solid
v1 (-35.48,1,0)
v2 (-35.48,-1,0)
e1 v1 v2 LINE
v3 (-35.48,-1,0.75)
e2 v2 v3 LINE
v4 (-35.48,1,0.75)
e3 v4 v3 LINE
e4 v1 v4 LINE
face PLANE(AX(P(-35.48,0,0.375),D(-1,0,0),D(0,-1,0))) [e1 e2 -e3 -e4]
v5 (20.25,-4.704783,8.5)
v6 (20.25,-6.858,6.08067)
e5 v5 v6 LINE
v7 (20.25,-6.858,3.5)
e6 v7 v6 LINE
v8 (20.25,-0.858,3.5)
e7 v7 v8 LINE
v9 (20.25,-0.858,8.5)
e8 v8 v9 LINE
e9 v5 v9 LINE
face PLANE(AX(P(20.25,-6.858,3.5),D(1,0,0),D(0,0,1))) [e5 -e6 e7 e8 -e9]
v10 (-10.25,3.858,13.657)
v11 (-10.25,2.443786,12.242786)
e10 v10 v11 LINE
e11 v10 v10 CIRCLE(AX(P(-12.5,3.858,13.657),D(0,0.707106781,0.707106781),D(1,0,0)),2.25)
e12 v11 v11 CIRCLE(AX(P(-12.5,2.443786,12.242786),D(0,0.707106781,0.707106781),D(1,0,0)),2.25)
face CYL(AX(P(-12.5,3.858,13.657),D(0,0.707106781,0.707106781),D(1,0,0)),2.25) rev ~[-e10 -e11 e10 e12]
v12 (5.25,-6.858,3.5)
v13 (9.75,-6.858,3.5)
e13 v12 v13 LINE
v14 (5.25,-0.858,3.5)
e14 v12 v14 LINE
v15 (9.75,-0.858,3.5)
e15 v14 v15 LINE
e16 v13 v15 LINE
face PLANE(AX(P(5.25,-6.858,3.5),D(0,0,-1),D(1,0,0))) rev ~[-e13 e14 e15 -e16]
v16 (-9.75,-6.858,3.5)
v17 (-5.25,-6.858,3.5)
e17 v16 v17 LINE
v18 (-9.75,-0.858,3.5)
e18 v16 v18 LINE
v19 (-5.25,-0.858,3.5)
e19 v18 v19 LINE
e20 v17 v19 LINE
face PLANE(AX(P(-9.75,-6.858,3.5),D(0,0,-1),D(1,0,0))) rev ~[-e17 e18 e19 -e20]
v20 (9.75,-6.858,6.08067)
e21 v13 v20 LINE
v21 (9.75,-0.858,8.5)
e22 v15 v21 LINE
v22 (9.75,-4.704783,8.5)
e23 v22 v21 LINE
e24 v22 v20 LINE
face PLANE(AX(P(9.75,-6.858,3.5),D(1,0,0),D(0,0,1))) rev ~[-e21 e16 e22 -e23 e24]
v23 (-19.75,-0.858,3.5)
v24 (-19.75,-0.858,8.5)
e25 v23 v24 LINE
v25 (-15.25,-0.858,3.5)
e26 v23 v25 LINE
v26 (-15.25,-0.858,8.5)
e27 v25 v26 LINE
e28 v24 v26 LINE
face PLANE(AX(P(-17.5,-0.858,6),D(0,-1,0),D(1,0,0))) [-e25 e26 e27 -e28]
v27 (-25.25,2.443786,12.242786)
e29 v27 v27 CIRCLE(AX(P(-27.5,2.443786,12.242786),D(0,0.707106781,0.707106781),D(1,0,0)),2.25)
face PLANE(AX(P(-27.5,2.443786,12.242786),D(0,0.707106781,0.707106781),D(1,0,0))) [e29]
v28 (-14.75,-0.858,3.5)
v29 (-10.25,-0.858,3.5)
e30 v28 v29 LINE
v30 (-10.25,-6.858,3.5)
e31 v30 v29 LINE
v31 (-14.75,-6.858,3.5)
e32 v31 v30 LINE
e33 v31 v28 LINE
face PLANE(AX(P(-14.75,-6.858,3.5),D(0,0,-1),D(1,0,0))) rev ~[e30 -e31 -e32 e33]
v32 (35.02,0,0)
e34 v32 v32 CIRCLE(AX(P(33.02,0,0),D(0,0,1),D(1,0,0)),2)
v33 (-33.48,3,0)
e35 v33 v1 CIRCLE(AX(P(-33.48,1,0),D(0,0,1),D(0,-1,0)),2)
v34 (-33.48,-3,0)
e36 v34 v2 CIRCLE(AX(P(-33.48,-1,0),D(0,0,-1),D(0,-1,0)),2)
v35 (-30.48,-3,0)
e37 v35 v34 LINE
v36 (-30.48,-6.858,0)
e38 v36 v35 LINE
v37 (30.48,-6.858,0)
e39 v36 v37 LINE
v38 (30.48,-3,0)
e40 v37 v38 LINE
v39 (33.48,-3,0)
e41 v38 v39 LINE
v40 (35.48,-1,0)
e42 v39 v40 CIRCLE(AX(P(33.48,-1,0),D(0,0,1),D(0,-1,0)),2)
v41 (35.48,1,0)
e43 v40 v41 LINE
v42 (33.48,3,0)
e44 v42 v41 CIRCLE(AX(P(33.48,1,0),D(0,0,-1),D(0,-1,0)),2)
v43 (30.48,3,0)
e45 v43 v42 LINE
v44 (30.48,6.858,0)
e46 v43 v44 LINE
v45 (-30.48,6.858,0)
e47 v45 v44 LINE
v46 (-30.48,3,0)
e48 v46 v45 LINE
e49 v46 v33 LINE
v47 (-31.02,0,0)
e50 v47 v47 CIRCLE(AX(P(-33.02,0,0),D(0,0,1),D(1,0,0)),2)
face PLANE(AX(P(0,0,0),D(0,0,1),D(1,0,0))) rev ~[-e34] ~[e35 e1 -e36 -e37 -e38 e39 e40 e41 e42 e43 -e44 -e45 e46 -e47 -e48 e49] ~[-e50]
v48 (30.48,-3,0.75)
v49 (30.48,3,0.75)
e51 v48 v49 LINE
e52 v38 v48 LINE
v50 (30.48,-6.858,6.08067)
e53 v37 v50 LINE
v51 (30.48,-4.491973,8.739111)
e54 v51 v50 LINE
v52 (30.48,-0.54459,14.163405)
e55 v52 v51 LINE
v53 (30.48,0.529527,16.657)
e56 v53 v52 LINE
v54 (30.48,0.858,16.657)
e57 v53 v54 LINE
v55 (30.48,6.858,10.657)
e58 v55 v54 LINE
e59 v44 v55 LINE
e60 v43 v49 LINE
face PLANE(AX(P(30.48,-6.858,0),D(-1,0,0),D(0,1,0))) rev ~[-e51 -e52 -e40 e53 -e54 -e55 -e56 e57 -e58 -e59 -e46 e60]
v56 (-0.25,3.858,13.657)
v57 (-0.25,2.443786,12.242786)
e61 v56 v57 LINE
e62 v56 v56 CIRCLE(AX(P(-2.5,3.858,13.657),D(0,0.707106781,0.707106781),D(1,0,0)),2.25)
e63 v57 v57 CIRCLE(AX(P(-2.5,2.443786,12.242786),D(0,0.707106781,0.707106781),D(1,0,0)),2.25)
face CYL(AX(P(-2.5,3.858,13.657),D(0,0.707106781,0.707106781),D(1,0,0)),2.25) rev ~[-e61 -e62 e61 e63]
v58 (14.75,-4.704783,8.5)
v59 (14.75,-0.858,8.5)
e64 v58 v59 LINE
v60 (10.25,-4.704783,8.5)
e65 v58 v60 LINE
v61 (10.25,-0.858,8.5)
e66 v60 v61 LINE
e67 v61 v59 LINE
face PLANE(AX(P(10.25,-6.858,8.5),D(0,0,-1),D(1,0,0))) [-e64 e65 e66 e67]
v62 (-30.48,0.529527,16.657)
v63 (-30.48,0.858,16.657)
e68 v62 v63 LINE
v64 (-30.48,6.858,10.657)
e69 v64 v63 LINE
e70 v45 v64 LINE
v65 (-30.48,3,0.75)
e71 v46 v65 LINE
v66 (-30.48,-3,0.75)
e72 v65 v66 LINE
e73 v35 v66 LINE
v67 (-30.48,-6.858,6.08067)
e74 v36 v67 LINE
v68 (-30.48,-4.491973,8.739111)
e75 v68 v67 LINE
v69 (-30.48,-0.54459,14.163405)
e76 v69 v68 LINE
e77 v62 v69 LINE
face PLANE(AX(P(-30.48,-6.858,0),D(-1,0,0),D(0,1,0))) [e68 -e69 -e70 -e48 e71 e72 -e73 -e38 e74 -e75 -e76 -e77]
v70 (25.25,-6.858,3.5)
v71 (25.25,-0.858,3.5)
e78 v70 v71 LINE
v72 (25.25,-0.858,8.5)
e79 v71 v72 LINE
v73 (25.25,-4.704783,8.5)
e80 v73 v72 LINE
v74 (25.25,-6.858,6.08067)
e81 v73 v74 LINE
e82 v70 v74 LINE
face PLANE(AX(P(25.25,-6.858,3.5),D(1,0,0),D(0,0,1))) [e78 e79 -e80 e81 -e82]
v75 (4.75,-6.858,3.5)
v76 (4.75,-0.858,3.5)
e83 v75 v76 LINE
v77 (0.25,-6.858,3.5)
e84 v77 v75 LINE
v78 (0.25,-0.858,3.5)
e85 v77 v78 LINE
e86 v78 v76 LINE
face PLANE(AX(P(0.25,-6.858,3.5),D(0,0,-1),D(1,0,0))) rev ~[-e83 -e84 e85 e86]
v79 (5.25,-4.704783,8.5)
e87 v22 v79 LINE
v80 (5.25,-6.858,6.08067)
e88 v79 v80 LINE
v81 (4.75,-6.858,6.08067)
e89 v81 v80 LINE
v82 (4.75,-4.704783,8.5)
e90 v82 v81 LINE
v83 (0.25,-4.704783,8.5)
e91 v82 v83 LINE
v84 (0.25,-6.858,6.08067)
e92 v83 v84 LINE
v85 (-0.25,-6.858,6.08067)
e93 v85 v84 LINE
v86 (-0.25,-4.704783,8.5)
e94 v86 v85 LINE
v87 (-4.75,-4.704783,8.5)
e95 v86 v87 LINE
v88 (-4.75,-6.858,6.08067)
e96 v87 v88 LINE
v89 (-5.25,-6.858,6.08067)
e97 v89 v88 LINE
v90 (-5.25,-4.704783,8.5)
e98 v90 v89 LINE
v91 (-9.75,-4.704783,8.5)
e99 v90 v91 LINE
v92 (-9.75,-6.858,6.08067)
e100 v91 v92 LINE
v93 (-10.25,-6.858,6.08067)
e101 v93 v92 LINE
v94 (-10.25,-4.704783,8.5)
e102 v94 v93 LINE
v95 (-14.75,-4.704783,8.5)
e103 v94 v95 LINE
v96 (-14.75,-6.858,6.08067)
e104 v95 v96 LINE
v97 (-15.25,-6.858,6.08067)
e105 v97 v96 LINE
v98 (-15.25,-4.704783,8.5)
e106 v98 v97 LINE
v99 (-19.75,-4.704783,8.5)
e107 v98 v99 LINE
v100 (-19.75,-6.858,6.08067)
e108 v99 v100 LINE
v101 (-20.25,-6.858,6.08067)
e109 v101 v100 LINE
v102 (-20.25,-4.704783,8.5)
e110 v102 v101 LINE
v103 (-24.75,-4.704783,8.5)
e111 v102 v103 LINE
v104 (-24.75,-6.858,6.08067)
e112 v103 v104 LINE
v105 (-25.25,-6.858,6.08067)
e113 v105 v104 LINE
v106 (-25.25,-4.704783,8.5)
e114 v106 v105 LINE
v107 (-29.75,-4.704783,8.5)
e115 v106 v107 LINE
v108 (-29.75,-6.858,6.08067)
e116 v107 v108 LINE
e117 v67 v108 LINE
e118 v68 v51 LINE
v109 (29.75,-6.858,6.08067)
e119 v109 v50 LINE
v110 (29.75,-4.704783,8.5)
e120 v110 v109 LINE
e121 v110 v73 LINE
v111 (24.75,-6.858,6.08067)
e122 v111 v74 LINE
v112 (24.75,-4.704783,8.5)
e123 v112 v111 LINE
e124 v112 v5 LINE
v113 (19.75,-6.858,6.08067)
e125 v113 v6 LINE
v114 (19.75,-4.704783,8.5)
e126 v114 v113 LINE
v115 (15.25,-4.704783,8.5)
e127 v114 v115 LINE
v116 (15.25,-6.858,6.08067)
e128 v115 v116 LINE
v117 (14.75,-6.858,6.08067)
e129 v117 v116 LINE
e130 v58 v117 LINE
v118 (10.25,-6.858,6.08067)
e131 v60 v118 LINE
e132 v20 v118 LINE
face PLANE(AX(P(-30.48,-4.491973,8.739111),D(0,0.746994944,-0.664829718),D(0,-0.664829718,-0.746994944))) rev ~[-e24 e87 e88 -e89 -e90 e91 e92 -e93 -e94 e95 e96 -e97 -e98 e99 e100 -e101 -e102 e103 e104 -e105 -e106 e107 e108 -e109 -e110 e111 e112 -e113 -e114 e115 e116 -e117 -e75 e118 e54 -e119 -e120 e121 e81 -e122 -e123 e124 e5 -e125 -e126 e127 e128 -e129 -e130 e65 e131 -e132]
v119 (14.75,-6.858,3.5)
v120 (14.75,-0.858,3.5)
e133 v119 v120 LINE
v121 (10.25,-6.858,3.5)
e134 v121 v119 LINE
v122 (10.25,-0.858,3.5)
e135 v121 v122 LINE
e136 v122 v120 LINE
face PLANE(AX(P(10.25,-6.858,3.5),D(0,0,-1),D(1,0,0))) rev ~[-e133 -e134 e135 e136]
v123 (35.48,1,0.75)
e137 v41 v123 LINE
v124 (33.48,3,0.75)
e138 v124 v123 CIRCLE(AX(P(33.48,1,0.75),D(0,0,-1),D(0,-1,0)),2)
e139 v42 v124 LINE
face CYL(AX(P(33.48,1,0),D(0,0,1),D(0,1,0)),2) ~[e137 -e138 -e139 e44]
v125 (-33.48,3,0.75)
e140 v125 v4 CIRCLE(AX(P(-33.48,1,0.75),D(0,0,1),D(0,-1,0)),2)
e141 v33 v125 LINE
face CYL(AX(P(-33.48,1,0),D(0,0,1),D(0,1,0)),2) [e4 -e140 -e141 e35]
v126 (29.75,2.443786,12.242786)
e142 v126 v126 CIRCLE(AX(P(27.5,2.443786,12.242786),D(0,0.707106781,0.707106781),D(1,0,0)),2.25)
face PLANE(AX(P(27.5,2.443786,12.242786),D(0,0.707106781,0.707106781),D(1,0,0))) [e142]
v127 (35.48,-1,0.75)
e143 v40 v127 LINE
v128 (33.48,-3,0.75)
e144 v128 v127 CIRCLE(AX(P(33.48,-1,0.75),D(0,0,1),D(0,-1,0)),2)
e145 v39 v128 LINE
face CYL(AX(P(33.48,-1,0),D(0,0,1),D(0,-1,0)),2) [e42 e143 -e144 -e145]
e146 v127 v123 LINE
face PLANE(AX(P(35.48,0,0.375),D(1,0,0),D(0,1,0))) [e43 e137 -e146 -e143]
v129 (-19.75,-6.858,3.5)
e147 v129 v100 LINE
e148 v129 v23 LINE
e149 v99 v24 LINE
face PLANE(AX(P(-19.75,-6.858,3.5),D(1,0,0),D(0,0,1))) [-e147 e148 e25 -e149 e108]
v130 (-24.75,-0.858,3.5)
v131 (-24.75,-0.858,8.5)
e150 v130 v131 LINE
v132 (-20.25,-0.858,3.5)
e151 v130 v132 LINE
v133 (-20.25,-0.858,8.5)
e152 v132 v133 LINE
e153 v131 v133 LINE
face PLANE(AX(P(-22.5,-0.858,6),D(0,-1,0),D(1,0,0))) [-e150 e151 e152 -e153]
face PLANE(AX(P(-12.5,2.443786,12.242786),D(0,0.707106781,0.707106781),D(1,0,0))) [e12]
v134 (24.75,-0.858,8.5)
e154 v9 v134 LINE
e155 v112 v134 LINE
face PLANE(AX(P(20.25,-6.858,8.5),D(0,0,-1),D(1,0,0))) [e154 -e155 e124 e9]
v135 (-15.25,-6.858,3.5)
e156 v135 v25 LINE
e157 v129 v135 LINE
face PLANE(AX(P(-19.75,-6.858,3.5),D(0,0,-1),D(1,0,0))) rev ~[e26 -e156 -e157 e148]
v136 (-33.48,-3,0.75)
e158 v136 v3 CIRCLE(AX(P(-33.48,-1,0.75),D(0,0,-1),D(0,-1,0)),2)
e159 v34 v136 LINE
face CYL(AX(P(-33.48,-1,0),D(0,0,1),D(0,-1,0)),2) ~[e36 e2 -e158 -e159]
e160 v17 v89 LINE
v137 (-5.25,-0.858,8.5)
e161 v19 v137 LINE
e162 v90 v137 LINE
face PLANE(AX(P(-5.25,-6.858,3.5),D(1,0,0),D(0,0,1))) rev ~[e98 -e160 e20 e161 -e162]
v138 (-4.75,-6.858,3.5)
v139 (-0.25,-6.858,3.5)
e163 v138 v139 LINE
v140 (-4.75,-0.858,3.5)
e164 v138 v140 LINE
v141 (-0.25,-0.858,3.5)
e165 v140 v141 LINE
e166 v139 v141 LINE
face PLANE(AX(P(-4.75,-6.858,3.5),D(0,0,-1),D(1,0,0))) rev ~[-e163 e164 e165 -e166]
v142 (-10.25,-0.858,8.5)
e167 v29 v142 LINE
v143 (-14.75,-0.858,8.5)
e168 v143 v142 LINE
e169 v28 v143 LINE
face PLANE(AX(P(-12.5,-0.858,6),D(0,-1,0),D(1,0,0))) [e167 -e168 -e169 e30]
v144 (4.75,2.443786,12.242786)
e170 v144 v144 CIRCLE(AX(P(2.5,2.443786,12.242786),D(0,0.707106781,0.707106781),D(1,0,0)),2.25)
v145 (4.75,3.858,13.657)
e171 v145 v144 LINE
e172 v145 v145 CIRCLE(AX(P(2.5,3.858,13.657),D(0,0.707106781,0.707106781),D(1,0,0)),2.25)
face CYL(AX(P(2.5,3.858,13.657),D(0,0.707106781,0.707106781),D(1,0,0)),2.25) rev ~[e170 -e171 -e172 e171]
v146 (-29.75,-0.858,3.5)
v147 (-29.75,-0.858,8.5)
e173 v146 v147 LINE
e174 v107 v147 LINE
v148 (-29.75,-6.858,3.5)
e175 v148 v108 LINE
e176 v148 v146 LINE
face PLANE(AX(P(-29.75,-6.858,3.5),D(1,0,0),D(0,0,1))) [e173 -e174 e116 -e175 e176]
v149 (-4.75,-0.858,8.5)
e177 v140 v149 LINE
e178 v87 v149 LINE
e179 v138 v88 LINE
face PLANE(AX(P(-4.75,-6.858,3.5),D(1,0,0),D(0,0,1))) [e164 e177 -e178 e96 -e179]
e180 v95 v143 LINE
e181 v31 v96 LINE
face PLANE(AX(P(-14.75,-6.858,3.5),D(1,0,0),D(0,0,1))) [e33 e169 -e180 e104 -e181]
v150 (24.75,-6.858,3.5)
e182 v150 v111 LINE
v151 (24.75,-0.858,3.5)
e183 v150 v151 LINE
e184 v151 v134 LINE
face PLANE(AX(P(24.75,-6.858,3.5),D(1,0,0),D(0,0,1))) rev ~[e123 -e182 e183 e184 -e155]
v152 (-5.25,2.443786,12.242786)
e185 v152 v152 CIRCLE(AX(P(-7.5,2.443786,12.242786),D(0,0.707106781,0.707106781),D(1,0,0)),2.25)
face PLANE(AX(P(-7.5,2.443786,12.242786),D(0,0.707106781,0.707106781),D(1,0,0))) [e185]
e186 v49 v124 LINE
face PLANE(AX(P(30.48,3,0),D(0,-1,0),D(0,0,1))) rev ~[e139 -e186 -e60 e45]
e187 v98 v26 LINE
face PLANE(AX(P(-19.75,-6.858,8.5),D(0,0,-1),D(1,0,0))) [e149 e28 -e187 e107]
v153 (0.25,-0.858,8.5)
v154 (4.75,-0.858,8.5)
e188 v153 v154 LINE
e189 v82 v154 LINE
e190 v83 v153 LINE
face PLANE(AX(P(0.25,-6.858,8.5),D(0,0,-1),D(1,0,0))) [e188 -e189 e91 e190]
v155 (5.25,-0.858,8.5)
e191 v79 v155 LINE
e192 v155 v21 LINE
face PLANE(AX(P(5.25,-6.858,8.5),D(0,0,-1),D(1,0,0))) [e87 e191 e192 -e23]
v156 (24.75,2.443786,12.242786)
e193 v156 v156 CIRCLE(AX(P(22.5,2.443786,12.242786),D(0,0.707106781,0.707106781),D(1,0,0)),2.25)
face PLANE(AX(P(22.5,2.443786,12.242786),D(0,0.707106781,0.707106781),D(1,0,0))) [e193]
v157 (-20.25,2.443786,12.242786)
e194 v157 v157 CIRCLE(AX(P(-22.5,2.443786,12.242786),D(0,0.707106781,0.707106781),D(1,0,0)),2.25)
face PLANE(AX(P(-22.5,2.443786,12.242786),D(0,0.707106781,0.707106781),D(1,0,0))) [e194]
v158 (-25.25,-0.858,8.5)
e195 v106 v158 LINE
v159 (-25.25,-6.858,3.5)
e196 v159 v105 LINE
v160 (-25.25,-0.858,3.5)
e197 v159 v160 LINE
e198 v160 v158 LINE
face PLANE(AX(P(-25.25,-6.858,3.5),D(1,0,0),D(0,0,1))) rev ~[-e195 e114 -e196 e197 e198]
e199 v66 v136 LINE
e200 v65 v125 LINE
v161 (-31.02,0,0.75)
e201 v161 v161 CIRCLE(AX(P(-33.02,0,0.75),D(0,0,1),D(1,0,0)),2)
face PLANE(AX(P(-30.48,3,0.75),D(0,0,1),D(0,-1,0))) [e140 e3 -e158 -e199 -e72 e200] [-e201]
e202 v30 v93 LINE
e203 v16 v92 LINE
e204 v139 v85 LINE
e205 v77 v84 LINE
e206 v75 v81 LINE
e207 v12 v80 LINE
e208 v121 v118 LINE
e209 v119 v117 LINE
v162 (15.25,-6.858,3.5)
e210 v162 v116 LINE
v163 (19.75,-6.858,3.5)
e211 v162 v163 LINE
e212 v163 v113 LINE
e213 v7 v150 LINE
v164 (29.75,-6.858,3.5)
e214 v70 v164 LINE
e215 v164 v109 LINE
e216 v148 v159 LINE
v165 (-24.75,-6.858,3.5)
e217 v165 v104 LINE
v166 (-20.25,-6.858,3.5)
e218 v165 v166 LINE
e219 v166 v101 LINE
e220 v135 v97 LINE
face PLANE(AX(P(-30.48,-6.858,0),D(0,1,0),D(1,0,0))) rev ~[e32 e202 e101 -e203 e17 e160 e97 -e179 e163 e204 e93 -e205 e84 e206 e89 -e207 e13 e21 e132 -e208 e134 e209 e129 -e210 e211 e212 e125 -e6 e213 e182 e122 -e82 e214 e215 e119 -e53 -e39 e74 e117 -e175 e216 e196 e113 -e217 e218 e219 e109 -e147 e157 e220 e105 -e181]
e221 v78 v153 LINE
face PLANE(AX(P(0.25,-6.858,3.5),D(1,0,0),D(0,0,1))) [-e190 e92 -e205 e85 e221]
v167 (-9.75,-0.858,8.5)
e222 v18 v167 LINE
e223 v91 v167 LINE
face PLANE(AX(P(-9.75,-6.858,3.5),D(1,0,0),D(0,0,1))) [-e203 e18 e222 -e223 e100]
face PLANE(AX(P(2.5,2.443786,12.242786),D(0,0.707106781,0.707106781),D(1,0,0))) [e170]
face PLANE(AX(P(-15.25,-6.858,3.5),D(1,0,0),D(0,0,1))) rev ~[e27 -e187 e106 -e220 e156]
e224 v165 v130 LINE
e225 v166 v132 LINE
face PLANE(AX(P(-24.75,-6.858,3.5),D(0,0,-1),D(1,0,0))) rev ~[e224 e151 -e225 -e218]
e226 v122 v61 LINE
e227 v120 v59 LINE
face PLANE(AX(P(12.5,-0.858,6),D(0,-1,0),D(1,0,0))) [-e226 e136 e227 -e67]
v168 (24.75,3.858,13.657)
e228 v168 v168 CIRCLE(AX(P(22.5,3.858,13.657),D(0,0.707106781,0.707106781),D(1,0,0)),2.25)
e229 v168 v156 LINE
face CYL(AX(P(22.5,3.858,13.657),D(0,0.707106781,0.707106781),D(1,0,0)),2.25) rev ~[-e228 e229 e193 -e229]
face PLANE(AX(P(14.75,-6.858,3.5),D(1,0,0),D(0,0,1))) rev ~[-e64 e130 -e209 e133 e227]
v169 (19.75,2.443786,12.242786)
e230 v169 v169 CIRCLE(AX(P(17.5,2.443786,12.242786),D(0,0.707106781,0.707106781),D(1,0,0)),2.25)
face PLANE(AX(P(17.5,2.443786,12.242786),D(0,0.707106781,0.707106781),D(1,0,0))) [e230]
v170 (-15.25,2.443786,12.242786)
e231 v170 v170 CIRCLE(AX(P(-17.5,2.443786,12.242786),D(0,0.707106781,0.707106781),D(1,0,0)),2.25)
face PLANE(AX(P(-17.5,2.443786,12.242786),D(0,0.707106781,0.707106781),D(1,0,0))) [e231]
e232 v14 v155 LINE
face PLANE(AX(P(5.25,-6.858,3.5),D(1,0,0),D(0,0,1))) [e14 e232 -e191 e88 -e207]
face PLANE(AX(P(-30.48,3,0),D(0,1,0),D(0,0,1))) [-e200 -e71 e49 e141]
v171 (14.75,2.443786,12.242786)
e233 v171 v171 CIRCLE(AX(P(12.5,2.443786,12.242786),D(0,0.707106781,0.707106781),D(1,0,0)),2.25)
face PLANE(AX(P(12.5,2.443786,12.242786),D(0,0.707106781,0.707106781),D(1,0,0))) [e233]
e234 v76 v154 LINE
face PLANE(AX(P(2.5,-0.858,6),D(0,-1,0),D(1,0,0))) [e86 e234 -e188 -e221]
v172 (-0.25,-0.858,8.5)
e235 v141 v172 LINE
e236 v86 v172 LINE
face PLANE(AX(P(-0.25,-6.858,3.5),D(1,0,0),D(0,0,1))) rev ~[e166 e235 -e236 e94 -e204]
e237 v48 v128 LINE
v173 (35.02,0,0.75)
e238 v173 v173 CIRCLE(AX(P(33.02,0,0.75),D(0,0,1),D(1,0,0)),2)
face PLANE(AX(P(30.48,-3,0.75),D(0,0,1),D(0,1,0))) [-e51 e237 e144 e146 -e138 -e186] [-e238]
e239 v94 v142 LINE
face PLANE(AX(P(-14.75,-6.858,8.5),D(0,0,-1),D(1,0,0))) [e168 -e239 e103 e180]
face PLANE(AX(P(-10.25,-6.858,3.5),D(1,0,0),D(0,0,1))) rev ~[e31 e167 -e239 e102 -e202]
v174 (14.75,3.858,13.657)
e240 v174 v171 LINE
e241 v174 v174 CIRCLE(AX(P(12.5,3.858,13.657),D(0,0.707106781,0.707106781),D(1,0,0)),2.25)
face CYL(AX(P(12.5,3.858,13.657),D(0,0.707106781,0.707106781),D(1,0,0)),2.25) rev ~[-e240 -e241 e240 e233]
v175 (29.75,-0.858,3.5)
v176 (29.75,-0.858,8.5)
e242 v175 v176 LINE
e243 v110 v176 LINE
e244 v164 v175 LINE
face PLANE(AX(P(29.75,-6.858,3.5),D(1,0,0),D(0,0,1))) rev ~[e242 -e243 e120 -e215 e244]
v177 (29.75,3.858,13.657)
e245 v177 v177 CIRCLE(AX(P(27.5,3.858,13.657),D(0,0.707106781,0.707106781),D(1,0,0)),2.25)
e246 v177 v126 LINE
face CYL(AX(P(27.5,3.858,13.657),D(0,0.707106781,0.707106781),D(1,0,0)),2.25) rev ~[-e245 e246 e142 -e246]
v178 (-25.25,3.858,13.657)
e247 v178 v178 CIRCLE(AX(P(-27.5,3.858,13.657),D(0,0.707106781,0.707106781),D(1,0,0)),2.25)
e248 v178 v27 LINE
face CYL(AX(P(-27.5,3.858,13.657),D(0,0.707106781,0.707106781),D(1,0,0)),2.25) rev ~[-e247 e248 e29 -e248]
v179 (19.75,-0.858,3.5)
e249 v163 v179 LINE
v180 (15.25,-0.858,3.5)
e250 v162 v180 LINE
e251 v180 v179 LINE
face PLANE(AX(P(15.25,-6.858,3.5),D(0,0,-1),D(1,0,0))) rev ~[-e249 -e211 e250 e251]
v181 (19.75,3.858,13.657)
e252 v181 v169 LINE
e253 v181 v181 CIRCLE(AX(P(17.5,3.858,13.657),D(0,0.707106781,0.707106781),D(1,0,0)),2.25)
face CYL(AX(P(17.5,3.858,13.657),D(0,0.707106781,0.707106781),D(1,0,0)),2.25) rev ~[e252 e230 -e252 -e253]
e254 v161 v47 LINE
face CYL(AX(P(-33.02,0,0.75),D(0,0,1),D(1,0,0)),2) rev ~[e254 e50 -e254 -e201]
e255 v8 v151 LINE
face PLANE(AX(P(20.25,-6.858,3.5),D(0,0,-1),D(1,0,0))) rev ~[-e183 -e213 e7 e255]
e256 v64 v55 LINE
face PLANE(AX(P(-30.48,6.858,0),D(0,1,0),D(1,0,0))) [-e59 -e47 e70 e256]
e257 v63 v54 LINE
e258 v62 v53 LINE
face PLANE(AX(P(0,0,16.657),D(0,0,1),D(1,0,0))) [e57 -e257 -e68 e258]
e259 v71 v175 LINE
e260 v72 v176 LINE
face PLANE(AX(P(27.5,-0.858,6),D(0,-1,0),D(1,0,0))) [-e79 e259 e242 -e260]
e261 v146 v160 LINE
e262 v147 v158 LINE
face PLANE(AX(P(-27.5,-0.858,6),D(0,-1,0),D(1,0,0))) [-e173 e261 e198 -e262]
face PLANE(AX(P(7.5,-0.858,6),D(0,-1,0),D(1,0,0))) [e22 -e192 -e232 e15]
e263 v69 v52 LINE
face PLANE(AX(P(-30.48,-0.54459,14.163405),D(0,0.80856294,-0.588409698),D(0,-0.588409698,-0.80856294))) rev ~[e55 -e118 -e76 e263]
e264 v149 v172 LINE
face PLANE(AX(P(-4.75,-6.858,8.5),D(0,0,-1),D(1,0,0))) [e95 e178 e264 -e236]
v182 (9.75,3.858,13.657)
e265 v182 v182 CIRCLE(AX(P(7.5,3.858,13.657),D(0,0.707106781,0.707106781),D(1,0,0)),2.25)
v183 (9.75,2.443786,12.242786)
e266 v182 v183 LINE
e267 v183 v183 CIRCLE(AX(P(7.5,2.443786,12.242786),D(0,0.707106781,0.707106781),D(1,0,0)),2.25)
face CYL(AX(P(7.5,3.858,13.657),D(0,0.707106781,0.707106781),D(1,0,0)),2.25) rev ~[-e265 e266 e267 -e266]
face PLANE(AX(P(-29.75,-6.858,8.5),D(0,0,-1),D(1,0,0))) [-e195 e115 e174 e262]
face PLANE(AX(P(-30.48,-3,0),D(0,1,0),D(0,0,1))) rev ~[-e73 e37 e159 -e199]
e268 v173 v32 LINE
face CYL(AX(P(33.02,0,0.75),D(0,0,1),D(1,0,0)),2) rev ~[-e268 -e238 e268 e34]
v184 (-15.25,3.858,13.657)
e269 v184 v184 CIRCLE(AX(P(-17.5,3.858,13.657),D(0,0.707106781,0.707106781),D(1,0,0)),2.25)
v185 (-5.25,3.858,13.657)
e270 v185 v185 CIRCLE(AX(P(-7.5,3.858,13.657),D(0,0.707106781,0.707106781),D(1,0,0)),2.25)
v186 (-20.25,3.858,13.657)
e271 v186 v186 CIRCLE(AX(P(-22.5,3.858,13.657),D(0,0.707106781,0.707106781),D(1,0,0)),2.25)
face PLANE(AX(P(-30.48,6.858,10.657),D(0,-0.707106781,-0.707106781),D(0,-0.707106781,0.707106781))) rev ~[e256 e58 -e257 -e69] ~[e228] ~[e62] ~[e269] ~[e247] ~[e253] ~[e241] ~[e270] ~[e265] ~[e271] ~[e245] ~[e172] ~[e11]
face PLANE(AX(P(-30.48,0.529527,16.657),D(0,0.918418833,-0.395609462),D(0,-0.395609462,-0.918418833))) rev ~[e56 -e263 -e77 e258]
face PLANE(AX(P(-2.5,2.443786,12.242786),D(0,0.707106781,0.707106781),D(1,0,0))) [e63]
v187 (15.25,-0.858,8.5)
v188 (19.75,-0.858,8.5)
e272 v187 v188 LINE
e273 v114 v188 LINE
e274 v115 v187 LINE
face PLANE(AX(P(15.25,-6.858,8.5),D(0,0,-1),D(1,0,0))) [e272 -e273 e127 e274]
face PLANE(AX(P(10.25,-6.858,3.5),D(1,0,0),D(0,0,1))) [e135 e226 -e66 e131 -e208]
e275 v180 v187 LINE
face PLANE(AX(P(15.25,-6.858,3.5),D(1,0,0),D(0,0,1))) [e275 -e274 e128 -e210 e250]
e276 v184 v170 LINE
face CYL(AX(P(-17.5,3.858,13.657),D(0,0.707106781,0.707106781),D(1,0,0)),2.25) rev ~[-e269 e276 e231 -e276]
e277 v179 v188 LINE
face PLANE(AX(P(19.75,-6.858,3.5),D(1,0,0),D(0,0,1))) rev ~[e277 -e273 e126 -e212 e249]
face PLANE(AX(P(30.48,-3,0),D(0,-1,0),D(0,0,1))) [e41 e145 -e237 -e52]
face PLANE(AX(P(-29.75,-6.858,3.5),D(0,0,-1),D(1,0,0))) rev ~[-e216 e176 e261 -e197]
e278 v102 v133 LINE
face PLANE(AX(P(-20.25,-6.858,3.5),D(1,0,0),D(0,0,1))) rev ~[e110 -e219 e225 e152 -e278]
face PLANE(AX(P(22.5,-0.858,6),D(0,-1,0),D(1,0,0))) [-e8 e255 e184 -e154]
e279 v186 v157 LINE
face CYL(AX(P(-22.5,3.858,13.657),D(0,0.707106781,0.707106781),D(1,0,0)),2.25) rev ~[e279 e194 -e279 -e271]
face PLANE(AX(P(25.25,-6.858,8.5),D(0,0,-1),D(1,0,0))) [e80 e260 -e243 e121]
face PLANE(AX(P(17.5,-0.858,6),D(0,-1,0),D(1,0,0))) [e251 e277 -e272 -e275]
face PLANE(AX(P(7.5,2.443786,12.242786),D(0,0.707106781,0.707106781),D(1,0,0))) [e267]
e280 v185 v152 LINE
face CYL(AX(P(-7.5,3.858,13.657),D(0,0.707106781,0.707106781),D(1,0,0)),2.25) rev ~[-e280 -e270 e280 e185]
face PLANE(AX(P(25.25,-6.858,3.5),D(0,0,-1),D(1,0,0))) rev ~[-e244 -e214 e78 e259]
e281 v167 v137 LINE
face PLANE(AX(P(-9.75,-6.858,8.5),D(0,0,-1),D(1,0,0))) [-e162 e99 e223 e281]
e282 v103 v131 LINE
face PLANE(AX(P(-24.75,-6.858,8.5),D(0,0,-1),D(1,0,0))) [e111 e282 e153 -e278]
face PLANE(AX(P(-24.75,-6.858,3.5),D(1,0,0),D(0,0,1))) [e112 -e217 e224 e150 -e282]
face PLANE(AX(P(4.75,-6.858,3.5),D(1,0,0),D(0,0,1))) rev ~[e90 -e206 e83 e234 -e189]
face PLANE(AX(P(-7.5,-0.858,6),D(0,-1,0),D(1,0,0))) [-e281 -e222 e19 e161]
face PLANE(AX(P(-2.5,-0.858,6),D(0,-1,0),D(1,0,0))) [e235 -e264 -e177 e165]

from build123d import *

# Parameters (mm, degrees)
F0_W      = 60.96
F0_H      = 13.716
F1_DEPTH  = 16.657
F3_DEPTH  = 60.961
F5_W      = 4.5
F5_H      = 5
F4_R      = 2.25
F6_DEPTH  = 6
F7_R      = 2.25
F8_DEPTH  = 2
F9_W      = 6
F9_H      = 0.75
F10_DEPTH = 5
F11_W     = 6
F11_H     = 0.75
F12_DEPTH = 5
F13_R     = 2
F14_R     = 2
F15_DEPTH = 0.751
F16_R     = 2
F17_DEPTH = 0.751


with BuildPart() as f1:
    # F0 (on Top) → F1 (new body)
    with BuildSketch(Plane.XY):
        Rectangle(F0_W, F0_H)
    extrude(amount=F1_DEPTH)

    # F2 (on face) → F3 (cut, through all)
    with BuildSketch(Plane(origin=(-30.48, 0, 0), x_dir=(0, -1, 0), z_dir=(-1, 0, 0))):
        Polygon((-6.858, 10.657), (-0.858, 16.657), (-6.858, 16.657), align=None)
        Polygon((6.858, 16.657), (-0.5295271985, 16.657), (0.5445904681, 14.1634047031), (4.491972737, 8.7391110137), (6.858, 6.0806702822), align=None)
    extrude(amount=-F3_DEPTH, mode=Mode.SUBTRACT)

    # F5 (on face) + F4 (on face) → F6 (cut)
    with BuildSketch(Plane.XZ.offset(6.858)):
        with Locations((-27.5, 6)):
            Rectangle(F5_W, F5_H)
        with Locations((-22.5, 6)):
            Rectangle(F5_W, F5_H)
        with Locations((-17.5, 6)):
            Rectangle(F5_W, F5_H)
        with Locations((-12.5, 6)):
            Rectangle(F5_W, F5_H)
        with Locations((-7.5, 6)):
            Rectangle(F5_W, F5_H)
        with Locations((-2.5, 6)):
            Rectangle(F5_W, F5_H)
        with Locations((2.5, 6)):
            Rectangle(F5_W, F5_H)
        with Locations((7.5, 6)):
            Rectangle(F5_W, F5_H)
        with Locations((12.5, 6)):
            Rectangle(F5_W, F5_H)
        with Locations((17.5, 6)):
            Rectangle(F5_W, F5_H)
        with Locations((22.5, 6)):
            Rectangle(F5_W, F5_H)
        with Locations((27.5, 6)):
            Rectangle(F5_W, F5_H)
    with BuildSketch(Plane(origin=(0, 6.858, 0), x_dir=(-1, 0, 0), z_dir=(0, 1, 0))):
        with Locations((27.5, 5.3285)):
            Circle(F4_R)
        with Locations((22.5, 5.3285)):
            Circle(F4_R)
        with Locations((17.5, 5.3285)):
            Circle(F4_R)
        with Locations((12.5, 5.3285)):
            Circle(F4_R)
        with Locations((7.5, 5.3285)):
            Circle(F4_R)
        with Locations((2.5, 5.3285)):
            Circle(F4_R)
        with Locations((-2.5, 5.3285)):
            Circle(F4_R)
        with Locations((-7.5, 5.3285)):
            Circle(F4_R)
        with Locations((-12.5, 5.3285)):
            Circle(F4_R)
        with Locations((-17.5, 5.3285)):
            Circle(F4_R)
        with Locations((-22.5, 5.3285)):
            Circle(F4_R)
        with Locations((-27.5, 5.3285)):
            Circle(F4_R)
    extrude(amount=-F6_DEPTH, dir=(0, -1, 0), mode=Mode.SUBTRACT)

    # F7 (on face) → F8 (cut)
    with BuildSketch(Plane(origin=(0, 8.7575, 8.7575), x_dir=(1, 0, 0), z_dir=(0, 0.7071067812, 0.7071067812))):
        with Locations((-27.5, -6.9289393488)):
            Circle(F7_R)
        with Locations((-22.5, -6.9289393488)):
            Circle(F7_R)
        with Locations((-17.5, -6.9289393488)):
            Circle(F7_R)
        with Locations((-12.5, -6.9289393488)):
            Circle(F7_R)
        with Locations((-7.5, -6.9289393488)):
            Circle(F7_R)
        with Locations((-2.5, -6.9289393488)):
            Circle(F7_R)
        with Locations((2.5, -6.9289393488)):
            Circle(F7_R)
        with Locations((7.5, -6.9289393488)):
            Circle(F7_R)
        with Locations((12.5, -6.9289393488)):
            Circle(F7_R)
        with Locations((17.5, -6.9289393488)):
            Circle(F7_R)
        with Locations((22.5, -6.9289393488)):
            Circle(F7_R)
        with Locations((27.5, -6.9289393488)):
            Circle(F7_R)
    extrude(amount=-F8_DEPTH, mode=Mode.SUBTRACT)

    # F9 (on face) → F10 (join)
    with BuildSketch(Plane(origin=(-30.48, 0, 0), x_dir=(0, -1, 0), z_dir=(-1, 0, 0))):
        with Locations((0, 0.375)):
            Rectangle(F9_W, F9_H)
    extrude(amount=F10_DEPTH)

    # F11 (on face) → F12 (join)
    with BuildSketch(Plane.YZ.offset(30.48)):
        with Locations((0, 0.375)):
            Rectangle(F11_W, F11_H)
    extrude(amount=F12_DEPTH)

    # F13
    f13_edges = [f1.edges().sort_by_distance(p)[0] for p in [
        (-35.48, 3, 0.375),
        (-35.48, -3, 0.375),
        (35.48, -3, 0.375),
        (35.48, 3, 0.375),
    ]]
    fillet(f13_edges, radius=F13_R)

    # F14 (on face) → F15 (cut, through all)
    with BuildSketch(Plane.XY.offset(0.75)):
        with Locations((-33.02, 0)):
            Circle(F14_R)
    extrude(amount=-F15_DEPTH, mode=Mode.SUBTRACT)

    # F16 (on face) → F17 (cut, through all)
    with BuildSketch(Plane.XY.offset(0.75)):
        with Locations((33.02, 0)):
            Circle(F16_R)
    extrude(amount=-F17_DEPTH, mode=Mode.SUBTRACT)


solid = f1.part
